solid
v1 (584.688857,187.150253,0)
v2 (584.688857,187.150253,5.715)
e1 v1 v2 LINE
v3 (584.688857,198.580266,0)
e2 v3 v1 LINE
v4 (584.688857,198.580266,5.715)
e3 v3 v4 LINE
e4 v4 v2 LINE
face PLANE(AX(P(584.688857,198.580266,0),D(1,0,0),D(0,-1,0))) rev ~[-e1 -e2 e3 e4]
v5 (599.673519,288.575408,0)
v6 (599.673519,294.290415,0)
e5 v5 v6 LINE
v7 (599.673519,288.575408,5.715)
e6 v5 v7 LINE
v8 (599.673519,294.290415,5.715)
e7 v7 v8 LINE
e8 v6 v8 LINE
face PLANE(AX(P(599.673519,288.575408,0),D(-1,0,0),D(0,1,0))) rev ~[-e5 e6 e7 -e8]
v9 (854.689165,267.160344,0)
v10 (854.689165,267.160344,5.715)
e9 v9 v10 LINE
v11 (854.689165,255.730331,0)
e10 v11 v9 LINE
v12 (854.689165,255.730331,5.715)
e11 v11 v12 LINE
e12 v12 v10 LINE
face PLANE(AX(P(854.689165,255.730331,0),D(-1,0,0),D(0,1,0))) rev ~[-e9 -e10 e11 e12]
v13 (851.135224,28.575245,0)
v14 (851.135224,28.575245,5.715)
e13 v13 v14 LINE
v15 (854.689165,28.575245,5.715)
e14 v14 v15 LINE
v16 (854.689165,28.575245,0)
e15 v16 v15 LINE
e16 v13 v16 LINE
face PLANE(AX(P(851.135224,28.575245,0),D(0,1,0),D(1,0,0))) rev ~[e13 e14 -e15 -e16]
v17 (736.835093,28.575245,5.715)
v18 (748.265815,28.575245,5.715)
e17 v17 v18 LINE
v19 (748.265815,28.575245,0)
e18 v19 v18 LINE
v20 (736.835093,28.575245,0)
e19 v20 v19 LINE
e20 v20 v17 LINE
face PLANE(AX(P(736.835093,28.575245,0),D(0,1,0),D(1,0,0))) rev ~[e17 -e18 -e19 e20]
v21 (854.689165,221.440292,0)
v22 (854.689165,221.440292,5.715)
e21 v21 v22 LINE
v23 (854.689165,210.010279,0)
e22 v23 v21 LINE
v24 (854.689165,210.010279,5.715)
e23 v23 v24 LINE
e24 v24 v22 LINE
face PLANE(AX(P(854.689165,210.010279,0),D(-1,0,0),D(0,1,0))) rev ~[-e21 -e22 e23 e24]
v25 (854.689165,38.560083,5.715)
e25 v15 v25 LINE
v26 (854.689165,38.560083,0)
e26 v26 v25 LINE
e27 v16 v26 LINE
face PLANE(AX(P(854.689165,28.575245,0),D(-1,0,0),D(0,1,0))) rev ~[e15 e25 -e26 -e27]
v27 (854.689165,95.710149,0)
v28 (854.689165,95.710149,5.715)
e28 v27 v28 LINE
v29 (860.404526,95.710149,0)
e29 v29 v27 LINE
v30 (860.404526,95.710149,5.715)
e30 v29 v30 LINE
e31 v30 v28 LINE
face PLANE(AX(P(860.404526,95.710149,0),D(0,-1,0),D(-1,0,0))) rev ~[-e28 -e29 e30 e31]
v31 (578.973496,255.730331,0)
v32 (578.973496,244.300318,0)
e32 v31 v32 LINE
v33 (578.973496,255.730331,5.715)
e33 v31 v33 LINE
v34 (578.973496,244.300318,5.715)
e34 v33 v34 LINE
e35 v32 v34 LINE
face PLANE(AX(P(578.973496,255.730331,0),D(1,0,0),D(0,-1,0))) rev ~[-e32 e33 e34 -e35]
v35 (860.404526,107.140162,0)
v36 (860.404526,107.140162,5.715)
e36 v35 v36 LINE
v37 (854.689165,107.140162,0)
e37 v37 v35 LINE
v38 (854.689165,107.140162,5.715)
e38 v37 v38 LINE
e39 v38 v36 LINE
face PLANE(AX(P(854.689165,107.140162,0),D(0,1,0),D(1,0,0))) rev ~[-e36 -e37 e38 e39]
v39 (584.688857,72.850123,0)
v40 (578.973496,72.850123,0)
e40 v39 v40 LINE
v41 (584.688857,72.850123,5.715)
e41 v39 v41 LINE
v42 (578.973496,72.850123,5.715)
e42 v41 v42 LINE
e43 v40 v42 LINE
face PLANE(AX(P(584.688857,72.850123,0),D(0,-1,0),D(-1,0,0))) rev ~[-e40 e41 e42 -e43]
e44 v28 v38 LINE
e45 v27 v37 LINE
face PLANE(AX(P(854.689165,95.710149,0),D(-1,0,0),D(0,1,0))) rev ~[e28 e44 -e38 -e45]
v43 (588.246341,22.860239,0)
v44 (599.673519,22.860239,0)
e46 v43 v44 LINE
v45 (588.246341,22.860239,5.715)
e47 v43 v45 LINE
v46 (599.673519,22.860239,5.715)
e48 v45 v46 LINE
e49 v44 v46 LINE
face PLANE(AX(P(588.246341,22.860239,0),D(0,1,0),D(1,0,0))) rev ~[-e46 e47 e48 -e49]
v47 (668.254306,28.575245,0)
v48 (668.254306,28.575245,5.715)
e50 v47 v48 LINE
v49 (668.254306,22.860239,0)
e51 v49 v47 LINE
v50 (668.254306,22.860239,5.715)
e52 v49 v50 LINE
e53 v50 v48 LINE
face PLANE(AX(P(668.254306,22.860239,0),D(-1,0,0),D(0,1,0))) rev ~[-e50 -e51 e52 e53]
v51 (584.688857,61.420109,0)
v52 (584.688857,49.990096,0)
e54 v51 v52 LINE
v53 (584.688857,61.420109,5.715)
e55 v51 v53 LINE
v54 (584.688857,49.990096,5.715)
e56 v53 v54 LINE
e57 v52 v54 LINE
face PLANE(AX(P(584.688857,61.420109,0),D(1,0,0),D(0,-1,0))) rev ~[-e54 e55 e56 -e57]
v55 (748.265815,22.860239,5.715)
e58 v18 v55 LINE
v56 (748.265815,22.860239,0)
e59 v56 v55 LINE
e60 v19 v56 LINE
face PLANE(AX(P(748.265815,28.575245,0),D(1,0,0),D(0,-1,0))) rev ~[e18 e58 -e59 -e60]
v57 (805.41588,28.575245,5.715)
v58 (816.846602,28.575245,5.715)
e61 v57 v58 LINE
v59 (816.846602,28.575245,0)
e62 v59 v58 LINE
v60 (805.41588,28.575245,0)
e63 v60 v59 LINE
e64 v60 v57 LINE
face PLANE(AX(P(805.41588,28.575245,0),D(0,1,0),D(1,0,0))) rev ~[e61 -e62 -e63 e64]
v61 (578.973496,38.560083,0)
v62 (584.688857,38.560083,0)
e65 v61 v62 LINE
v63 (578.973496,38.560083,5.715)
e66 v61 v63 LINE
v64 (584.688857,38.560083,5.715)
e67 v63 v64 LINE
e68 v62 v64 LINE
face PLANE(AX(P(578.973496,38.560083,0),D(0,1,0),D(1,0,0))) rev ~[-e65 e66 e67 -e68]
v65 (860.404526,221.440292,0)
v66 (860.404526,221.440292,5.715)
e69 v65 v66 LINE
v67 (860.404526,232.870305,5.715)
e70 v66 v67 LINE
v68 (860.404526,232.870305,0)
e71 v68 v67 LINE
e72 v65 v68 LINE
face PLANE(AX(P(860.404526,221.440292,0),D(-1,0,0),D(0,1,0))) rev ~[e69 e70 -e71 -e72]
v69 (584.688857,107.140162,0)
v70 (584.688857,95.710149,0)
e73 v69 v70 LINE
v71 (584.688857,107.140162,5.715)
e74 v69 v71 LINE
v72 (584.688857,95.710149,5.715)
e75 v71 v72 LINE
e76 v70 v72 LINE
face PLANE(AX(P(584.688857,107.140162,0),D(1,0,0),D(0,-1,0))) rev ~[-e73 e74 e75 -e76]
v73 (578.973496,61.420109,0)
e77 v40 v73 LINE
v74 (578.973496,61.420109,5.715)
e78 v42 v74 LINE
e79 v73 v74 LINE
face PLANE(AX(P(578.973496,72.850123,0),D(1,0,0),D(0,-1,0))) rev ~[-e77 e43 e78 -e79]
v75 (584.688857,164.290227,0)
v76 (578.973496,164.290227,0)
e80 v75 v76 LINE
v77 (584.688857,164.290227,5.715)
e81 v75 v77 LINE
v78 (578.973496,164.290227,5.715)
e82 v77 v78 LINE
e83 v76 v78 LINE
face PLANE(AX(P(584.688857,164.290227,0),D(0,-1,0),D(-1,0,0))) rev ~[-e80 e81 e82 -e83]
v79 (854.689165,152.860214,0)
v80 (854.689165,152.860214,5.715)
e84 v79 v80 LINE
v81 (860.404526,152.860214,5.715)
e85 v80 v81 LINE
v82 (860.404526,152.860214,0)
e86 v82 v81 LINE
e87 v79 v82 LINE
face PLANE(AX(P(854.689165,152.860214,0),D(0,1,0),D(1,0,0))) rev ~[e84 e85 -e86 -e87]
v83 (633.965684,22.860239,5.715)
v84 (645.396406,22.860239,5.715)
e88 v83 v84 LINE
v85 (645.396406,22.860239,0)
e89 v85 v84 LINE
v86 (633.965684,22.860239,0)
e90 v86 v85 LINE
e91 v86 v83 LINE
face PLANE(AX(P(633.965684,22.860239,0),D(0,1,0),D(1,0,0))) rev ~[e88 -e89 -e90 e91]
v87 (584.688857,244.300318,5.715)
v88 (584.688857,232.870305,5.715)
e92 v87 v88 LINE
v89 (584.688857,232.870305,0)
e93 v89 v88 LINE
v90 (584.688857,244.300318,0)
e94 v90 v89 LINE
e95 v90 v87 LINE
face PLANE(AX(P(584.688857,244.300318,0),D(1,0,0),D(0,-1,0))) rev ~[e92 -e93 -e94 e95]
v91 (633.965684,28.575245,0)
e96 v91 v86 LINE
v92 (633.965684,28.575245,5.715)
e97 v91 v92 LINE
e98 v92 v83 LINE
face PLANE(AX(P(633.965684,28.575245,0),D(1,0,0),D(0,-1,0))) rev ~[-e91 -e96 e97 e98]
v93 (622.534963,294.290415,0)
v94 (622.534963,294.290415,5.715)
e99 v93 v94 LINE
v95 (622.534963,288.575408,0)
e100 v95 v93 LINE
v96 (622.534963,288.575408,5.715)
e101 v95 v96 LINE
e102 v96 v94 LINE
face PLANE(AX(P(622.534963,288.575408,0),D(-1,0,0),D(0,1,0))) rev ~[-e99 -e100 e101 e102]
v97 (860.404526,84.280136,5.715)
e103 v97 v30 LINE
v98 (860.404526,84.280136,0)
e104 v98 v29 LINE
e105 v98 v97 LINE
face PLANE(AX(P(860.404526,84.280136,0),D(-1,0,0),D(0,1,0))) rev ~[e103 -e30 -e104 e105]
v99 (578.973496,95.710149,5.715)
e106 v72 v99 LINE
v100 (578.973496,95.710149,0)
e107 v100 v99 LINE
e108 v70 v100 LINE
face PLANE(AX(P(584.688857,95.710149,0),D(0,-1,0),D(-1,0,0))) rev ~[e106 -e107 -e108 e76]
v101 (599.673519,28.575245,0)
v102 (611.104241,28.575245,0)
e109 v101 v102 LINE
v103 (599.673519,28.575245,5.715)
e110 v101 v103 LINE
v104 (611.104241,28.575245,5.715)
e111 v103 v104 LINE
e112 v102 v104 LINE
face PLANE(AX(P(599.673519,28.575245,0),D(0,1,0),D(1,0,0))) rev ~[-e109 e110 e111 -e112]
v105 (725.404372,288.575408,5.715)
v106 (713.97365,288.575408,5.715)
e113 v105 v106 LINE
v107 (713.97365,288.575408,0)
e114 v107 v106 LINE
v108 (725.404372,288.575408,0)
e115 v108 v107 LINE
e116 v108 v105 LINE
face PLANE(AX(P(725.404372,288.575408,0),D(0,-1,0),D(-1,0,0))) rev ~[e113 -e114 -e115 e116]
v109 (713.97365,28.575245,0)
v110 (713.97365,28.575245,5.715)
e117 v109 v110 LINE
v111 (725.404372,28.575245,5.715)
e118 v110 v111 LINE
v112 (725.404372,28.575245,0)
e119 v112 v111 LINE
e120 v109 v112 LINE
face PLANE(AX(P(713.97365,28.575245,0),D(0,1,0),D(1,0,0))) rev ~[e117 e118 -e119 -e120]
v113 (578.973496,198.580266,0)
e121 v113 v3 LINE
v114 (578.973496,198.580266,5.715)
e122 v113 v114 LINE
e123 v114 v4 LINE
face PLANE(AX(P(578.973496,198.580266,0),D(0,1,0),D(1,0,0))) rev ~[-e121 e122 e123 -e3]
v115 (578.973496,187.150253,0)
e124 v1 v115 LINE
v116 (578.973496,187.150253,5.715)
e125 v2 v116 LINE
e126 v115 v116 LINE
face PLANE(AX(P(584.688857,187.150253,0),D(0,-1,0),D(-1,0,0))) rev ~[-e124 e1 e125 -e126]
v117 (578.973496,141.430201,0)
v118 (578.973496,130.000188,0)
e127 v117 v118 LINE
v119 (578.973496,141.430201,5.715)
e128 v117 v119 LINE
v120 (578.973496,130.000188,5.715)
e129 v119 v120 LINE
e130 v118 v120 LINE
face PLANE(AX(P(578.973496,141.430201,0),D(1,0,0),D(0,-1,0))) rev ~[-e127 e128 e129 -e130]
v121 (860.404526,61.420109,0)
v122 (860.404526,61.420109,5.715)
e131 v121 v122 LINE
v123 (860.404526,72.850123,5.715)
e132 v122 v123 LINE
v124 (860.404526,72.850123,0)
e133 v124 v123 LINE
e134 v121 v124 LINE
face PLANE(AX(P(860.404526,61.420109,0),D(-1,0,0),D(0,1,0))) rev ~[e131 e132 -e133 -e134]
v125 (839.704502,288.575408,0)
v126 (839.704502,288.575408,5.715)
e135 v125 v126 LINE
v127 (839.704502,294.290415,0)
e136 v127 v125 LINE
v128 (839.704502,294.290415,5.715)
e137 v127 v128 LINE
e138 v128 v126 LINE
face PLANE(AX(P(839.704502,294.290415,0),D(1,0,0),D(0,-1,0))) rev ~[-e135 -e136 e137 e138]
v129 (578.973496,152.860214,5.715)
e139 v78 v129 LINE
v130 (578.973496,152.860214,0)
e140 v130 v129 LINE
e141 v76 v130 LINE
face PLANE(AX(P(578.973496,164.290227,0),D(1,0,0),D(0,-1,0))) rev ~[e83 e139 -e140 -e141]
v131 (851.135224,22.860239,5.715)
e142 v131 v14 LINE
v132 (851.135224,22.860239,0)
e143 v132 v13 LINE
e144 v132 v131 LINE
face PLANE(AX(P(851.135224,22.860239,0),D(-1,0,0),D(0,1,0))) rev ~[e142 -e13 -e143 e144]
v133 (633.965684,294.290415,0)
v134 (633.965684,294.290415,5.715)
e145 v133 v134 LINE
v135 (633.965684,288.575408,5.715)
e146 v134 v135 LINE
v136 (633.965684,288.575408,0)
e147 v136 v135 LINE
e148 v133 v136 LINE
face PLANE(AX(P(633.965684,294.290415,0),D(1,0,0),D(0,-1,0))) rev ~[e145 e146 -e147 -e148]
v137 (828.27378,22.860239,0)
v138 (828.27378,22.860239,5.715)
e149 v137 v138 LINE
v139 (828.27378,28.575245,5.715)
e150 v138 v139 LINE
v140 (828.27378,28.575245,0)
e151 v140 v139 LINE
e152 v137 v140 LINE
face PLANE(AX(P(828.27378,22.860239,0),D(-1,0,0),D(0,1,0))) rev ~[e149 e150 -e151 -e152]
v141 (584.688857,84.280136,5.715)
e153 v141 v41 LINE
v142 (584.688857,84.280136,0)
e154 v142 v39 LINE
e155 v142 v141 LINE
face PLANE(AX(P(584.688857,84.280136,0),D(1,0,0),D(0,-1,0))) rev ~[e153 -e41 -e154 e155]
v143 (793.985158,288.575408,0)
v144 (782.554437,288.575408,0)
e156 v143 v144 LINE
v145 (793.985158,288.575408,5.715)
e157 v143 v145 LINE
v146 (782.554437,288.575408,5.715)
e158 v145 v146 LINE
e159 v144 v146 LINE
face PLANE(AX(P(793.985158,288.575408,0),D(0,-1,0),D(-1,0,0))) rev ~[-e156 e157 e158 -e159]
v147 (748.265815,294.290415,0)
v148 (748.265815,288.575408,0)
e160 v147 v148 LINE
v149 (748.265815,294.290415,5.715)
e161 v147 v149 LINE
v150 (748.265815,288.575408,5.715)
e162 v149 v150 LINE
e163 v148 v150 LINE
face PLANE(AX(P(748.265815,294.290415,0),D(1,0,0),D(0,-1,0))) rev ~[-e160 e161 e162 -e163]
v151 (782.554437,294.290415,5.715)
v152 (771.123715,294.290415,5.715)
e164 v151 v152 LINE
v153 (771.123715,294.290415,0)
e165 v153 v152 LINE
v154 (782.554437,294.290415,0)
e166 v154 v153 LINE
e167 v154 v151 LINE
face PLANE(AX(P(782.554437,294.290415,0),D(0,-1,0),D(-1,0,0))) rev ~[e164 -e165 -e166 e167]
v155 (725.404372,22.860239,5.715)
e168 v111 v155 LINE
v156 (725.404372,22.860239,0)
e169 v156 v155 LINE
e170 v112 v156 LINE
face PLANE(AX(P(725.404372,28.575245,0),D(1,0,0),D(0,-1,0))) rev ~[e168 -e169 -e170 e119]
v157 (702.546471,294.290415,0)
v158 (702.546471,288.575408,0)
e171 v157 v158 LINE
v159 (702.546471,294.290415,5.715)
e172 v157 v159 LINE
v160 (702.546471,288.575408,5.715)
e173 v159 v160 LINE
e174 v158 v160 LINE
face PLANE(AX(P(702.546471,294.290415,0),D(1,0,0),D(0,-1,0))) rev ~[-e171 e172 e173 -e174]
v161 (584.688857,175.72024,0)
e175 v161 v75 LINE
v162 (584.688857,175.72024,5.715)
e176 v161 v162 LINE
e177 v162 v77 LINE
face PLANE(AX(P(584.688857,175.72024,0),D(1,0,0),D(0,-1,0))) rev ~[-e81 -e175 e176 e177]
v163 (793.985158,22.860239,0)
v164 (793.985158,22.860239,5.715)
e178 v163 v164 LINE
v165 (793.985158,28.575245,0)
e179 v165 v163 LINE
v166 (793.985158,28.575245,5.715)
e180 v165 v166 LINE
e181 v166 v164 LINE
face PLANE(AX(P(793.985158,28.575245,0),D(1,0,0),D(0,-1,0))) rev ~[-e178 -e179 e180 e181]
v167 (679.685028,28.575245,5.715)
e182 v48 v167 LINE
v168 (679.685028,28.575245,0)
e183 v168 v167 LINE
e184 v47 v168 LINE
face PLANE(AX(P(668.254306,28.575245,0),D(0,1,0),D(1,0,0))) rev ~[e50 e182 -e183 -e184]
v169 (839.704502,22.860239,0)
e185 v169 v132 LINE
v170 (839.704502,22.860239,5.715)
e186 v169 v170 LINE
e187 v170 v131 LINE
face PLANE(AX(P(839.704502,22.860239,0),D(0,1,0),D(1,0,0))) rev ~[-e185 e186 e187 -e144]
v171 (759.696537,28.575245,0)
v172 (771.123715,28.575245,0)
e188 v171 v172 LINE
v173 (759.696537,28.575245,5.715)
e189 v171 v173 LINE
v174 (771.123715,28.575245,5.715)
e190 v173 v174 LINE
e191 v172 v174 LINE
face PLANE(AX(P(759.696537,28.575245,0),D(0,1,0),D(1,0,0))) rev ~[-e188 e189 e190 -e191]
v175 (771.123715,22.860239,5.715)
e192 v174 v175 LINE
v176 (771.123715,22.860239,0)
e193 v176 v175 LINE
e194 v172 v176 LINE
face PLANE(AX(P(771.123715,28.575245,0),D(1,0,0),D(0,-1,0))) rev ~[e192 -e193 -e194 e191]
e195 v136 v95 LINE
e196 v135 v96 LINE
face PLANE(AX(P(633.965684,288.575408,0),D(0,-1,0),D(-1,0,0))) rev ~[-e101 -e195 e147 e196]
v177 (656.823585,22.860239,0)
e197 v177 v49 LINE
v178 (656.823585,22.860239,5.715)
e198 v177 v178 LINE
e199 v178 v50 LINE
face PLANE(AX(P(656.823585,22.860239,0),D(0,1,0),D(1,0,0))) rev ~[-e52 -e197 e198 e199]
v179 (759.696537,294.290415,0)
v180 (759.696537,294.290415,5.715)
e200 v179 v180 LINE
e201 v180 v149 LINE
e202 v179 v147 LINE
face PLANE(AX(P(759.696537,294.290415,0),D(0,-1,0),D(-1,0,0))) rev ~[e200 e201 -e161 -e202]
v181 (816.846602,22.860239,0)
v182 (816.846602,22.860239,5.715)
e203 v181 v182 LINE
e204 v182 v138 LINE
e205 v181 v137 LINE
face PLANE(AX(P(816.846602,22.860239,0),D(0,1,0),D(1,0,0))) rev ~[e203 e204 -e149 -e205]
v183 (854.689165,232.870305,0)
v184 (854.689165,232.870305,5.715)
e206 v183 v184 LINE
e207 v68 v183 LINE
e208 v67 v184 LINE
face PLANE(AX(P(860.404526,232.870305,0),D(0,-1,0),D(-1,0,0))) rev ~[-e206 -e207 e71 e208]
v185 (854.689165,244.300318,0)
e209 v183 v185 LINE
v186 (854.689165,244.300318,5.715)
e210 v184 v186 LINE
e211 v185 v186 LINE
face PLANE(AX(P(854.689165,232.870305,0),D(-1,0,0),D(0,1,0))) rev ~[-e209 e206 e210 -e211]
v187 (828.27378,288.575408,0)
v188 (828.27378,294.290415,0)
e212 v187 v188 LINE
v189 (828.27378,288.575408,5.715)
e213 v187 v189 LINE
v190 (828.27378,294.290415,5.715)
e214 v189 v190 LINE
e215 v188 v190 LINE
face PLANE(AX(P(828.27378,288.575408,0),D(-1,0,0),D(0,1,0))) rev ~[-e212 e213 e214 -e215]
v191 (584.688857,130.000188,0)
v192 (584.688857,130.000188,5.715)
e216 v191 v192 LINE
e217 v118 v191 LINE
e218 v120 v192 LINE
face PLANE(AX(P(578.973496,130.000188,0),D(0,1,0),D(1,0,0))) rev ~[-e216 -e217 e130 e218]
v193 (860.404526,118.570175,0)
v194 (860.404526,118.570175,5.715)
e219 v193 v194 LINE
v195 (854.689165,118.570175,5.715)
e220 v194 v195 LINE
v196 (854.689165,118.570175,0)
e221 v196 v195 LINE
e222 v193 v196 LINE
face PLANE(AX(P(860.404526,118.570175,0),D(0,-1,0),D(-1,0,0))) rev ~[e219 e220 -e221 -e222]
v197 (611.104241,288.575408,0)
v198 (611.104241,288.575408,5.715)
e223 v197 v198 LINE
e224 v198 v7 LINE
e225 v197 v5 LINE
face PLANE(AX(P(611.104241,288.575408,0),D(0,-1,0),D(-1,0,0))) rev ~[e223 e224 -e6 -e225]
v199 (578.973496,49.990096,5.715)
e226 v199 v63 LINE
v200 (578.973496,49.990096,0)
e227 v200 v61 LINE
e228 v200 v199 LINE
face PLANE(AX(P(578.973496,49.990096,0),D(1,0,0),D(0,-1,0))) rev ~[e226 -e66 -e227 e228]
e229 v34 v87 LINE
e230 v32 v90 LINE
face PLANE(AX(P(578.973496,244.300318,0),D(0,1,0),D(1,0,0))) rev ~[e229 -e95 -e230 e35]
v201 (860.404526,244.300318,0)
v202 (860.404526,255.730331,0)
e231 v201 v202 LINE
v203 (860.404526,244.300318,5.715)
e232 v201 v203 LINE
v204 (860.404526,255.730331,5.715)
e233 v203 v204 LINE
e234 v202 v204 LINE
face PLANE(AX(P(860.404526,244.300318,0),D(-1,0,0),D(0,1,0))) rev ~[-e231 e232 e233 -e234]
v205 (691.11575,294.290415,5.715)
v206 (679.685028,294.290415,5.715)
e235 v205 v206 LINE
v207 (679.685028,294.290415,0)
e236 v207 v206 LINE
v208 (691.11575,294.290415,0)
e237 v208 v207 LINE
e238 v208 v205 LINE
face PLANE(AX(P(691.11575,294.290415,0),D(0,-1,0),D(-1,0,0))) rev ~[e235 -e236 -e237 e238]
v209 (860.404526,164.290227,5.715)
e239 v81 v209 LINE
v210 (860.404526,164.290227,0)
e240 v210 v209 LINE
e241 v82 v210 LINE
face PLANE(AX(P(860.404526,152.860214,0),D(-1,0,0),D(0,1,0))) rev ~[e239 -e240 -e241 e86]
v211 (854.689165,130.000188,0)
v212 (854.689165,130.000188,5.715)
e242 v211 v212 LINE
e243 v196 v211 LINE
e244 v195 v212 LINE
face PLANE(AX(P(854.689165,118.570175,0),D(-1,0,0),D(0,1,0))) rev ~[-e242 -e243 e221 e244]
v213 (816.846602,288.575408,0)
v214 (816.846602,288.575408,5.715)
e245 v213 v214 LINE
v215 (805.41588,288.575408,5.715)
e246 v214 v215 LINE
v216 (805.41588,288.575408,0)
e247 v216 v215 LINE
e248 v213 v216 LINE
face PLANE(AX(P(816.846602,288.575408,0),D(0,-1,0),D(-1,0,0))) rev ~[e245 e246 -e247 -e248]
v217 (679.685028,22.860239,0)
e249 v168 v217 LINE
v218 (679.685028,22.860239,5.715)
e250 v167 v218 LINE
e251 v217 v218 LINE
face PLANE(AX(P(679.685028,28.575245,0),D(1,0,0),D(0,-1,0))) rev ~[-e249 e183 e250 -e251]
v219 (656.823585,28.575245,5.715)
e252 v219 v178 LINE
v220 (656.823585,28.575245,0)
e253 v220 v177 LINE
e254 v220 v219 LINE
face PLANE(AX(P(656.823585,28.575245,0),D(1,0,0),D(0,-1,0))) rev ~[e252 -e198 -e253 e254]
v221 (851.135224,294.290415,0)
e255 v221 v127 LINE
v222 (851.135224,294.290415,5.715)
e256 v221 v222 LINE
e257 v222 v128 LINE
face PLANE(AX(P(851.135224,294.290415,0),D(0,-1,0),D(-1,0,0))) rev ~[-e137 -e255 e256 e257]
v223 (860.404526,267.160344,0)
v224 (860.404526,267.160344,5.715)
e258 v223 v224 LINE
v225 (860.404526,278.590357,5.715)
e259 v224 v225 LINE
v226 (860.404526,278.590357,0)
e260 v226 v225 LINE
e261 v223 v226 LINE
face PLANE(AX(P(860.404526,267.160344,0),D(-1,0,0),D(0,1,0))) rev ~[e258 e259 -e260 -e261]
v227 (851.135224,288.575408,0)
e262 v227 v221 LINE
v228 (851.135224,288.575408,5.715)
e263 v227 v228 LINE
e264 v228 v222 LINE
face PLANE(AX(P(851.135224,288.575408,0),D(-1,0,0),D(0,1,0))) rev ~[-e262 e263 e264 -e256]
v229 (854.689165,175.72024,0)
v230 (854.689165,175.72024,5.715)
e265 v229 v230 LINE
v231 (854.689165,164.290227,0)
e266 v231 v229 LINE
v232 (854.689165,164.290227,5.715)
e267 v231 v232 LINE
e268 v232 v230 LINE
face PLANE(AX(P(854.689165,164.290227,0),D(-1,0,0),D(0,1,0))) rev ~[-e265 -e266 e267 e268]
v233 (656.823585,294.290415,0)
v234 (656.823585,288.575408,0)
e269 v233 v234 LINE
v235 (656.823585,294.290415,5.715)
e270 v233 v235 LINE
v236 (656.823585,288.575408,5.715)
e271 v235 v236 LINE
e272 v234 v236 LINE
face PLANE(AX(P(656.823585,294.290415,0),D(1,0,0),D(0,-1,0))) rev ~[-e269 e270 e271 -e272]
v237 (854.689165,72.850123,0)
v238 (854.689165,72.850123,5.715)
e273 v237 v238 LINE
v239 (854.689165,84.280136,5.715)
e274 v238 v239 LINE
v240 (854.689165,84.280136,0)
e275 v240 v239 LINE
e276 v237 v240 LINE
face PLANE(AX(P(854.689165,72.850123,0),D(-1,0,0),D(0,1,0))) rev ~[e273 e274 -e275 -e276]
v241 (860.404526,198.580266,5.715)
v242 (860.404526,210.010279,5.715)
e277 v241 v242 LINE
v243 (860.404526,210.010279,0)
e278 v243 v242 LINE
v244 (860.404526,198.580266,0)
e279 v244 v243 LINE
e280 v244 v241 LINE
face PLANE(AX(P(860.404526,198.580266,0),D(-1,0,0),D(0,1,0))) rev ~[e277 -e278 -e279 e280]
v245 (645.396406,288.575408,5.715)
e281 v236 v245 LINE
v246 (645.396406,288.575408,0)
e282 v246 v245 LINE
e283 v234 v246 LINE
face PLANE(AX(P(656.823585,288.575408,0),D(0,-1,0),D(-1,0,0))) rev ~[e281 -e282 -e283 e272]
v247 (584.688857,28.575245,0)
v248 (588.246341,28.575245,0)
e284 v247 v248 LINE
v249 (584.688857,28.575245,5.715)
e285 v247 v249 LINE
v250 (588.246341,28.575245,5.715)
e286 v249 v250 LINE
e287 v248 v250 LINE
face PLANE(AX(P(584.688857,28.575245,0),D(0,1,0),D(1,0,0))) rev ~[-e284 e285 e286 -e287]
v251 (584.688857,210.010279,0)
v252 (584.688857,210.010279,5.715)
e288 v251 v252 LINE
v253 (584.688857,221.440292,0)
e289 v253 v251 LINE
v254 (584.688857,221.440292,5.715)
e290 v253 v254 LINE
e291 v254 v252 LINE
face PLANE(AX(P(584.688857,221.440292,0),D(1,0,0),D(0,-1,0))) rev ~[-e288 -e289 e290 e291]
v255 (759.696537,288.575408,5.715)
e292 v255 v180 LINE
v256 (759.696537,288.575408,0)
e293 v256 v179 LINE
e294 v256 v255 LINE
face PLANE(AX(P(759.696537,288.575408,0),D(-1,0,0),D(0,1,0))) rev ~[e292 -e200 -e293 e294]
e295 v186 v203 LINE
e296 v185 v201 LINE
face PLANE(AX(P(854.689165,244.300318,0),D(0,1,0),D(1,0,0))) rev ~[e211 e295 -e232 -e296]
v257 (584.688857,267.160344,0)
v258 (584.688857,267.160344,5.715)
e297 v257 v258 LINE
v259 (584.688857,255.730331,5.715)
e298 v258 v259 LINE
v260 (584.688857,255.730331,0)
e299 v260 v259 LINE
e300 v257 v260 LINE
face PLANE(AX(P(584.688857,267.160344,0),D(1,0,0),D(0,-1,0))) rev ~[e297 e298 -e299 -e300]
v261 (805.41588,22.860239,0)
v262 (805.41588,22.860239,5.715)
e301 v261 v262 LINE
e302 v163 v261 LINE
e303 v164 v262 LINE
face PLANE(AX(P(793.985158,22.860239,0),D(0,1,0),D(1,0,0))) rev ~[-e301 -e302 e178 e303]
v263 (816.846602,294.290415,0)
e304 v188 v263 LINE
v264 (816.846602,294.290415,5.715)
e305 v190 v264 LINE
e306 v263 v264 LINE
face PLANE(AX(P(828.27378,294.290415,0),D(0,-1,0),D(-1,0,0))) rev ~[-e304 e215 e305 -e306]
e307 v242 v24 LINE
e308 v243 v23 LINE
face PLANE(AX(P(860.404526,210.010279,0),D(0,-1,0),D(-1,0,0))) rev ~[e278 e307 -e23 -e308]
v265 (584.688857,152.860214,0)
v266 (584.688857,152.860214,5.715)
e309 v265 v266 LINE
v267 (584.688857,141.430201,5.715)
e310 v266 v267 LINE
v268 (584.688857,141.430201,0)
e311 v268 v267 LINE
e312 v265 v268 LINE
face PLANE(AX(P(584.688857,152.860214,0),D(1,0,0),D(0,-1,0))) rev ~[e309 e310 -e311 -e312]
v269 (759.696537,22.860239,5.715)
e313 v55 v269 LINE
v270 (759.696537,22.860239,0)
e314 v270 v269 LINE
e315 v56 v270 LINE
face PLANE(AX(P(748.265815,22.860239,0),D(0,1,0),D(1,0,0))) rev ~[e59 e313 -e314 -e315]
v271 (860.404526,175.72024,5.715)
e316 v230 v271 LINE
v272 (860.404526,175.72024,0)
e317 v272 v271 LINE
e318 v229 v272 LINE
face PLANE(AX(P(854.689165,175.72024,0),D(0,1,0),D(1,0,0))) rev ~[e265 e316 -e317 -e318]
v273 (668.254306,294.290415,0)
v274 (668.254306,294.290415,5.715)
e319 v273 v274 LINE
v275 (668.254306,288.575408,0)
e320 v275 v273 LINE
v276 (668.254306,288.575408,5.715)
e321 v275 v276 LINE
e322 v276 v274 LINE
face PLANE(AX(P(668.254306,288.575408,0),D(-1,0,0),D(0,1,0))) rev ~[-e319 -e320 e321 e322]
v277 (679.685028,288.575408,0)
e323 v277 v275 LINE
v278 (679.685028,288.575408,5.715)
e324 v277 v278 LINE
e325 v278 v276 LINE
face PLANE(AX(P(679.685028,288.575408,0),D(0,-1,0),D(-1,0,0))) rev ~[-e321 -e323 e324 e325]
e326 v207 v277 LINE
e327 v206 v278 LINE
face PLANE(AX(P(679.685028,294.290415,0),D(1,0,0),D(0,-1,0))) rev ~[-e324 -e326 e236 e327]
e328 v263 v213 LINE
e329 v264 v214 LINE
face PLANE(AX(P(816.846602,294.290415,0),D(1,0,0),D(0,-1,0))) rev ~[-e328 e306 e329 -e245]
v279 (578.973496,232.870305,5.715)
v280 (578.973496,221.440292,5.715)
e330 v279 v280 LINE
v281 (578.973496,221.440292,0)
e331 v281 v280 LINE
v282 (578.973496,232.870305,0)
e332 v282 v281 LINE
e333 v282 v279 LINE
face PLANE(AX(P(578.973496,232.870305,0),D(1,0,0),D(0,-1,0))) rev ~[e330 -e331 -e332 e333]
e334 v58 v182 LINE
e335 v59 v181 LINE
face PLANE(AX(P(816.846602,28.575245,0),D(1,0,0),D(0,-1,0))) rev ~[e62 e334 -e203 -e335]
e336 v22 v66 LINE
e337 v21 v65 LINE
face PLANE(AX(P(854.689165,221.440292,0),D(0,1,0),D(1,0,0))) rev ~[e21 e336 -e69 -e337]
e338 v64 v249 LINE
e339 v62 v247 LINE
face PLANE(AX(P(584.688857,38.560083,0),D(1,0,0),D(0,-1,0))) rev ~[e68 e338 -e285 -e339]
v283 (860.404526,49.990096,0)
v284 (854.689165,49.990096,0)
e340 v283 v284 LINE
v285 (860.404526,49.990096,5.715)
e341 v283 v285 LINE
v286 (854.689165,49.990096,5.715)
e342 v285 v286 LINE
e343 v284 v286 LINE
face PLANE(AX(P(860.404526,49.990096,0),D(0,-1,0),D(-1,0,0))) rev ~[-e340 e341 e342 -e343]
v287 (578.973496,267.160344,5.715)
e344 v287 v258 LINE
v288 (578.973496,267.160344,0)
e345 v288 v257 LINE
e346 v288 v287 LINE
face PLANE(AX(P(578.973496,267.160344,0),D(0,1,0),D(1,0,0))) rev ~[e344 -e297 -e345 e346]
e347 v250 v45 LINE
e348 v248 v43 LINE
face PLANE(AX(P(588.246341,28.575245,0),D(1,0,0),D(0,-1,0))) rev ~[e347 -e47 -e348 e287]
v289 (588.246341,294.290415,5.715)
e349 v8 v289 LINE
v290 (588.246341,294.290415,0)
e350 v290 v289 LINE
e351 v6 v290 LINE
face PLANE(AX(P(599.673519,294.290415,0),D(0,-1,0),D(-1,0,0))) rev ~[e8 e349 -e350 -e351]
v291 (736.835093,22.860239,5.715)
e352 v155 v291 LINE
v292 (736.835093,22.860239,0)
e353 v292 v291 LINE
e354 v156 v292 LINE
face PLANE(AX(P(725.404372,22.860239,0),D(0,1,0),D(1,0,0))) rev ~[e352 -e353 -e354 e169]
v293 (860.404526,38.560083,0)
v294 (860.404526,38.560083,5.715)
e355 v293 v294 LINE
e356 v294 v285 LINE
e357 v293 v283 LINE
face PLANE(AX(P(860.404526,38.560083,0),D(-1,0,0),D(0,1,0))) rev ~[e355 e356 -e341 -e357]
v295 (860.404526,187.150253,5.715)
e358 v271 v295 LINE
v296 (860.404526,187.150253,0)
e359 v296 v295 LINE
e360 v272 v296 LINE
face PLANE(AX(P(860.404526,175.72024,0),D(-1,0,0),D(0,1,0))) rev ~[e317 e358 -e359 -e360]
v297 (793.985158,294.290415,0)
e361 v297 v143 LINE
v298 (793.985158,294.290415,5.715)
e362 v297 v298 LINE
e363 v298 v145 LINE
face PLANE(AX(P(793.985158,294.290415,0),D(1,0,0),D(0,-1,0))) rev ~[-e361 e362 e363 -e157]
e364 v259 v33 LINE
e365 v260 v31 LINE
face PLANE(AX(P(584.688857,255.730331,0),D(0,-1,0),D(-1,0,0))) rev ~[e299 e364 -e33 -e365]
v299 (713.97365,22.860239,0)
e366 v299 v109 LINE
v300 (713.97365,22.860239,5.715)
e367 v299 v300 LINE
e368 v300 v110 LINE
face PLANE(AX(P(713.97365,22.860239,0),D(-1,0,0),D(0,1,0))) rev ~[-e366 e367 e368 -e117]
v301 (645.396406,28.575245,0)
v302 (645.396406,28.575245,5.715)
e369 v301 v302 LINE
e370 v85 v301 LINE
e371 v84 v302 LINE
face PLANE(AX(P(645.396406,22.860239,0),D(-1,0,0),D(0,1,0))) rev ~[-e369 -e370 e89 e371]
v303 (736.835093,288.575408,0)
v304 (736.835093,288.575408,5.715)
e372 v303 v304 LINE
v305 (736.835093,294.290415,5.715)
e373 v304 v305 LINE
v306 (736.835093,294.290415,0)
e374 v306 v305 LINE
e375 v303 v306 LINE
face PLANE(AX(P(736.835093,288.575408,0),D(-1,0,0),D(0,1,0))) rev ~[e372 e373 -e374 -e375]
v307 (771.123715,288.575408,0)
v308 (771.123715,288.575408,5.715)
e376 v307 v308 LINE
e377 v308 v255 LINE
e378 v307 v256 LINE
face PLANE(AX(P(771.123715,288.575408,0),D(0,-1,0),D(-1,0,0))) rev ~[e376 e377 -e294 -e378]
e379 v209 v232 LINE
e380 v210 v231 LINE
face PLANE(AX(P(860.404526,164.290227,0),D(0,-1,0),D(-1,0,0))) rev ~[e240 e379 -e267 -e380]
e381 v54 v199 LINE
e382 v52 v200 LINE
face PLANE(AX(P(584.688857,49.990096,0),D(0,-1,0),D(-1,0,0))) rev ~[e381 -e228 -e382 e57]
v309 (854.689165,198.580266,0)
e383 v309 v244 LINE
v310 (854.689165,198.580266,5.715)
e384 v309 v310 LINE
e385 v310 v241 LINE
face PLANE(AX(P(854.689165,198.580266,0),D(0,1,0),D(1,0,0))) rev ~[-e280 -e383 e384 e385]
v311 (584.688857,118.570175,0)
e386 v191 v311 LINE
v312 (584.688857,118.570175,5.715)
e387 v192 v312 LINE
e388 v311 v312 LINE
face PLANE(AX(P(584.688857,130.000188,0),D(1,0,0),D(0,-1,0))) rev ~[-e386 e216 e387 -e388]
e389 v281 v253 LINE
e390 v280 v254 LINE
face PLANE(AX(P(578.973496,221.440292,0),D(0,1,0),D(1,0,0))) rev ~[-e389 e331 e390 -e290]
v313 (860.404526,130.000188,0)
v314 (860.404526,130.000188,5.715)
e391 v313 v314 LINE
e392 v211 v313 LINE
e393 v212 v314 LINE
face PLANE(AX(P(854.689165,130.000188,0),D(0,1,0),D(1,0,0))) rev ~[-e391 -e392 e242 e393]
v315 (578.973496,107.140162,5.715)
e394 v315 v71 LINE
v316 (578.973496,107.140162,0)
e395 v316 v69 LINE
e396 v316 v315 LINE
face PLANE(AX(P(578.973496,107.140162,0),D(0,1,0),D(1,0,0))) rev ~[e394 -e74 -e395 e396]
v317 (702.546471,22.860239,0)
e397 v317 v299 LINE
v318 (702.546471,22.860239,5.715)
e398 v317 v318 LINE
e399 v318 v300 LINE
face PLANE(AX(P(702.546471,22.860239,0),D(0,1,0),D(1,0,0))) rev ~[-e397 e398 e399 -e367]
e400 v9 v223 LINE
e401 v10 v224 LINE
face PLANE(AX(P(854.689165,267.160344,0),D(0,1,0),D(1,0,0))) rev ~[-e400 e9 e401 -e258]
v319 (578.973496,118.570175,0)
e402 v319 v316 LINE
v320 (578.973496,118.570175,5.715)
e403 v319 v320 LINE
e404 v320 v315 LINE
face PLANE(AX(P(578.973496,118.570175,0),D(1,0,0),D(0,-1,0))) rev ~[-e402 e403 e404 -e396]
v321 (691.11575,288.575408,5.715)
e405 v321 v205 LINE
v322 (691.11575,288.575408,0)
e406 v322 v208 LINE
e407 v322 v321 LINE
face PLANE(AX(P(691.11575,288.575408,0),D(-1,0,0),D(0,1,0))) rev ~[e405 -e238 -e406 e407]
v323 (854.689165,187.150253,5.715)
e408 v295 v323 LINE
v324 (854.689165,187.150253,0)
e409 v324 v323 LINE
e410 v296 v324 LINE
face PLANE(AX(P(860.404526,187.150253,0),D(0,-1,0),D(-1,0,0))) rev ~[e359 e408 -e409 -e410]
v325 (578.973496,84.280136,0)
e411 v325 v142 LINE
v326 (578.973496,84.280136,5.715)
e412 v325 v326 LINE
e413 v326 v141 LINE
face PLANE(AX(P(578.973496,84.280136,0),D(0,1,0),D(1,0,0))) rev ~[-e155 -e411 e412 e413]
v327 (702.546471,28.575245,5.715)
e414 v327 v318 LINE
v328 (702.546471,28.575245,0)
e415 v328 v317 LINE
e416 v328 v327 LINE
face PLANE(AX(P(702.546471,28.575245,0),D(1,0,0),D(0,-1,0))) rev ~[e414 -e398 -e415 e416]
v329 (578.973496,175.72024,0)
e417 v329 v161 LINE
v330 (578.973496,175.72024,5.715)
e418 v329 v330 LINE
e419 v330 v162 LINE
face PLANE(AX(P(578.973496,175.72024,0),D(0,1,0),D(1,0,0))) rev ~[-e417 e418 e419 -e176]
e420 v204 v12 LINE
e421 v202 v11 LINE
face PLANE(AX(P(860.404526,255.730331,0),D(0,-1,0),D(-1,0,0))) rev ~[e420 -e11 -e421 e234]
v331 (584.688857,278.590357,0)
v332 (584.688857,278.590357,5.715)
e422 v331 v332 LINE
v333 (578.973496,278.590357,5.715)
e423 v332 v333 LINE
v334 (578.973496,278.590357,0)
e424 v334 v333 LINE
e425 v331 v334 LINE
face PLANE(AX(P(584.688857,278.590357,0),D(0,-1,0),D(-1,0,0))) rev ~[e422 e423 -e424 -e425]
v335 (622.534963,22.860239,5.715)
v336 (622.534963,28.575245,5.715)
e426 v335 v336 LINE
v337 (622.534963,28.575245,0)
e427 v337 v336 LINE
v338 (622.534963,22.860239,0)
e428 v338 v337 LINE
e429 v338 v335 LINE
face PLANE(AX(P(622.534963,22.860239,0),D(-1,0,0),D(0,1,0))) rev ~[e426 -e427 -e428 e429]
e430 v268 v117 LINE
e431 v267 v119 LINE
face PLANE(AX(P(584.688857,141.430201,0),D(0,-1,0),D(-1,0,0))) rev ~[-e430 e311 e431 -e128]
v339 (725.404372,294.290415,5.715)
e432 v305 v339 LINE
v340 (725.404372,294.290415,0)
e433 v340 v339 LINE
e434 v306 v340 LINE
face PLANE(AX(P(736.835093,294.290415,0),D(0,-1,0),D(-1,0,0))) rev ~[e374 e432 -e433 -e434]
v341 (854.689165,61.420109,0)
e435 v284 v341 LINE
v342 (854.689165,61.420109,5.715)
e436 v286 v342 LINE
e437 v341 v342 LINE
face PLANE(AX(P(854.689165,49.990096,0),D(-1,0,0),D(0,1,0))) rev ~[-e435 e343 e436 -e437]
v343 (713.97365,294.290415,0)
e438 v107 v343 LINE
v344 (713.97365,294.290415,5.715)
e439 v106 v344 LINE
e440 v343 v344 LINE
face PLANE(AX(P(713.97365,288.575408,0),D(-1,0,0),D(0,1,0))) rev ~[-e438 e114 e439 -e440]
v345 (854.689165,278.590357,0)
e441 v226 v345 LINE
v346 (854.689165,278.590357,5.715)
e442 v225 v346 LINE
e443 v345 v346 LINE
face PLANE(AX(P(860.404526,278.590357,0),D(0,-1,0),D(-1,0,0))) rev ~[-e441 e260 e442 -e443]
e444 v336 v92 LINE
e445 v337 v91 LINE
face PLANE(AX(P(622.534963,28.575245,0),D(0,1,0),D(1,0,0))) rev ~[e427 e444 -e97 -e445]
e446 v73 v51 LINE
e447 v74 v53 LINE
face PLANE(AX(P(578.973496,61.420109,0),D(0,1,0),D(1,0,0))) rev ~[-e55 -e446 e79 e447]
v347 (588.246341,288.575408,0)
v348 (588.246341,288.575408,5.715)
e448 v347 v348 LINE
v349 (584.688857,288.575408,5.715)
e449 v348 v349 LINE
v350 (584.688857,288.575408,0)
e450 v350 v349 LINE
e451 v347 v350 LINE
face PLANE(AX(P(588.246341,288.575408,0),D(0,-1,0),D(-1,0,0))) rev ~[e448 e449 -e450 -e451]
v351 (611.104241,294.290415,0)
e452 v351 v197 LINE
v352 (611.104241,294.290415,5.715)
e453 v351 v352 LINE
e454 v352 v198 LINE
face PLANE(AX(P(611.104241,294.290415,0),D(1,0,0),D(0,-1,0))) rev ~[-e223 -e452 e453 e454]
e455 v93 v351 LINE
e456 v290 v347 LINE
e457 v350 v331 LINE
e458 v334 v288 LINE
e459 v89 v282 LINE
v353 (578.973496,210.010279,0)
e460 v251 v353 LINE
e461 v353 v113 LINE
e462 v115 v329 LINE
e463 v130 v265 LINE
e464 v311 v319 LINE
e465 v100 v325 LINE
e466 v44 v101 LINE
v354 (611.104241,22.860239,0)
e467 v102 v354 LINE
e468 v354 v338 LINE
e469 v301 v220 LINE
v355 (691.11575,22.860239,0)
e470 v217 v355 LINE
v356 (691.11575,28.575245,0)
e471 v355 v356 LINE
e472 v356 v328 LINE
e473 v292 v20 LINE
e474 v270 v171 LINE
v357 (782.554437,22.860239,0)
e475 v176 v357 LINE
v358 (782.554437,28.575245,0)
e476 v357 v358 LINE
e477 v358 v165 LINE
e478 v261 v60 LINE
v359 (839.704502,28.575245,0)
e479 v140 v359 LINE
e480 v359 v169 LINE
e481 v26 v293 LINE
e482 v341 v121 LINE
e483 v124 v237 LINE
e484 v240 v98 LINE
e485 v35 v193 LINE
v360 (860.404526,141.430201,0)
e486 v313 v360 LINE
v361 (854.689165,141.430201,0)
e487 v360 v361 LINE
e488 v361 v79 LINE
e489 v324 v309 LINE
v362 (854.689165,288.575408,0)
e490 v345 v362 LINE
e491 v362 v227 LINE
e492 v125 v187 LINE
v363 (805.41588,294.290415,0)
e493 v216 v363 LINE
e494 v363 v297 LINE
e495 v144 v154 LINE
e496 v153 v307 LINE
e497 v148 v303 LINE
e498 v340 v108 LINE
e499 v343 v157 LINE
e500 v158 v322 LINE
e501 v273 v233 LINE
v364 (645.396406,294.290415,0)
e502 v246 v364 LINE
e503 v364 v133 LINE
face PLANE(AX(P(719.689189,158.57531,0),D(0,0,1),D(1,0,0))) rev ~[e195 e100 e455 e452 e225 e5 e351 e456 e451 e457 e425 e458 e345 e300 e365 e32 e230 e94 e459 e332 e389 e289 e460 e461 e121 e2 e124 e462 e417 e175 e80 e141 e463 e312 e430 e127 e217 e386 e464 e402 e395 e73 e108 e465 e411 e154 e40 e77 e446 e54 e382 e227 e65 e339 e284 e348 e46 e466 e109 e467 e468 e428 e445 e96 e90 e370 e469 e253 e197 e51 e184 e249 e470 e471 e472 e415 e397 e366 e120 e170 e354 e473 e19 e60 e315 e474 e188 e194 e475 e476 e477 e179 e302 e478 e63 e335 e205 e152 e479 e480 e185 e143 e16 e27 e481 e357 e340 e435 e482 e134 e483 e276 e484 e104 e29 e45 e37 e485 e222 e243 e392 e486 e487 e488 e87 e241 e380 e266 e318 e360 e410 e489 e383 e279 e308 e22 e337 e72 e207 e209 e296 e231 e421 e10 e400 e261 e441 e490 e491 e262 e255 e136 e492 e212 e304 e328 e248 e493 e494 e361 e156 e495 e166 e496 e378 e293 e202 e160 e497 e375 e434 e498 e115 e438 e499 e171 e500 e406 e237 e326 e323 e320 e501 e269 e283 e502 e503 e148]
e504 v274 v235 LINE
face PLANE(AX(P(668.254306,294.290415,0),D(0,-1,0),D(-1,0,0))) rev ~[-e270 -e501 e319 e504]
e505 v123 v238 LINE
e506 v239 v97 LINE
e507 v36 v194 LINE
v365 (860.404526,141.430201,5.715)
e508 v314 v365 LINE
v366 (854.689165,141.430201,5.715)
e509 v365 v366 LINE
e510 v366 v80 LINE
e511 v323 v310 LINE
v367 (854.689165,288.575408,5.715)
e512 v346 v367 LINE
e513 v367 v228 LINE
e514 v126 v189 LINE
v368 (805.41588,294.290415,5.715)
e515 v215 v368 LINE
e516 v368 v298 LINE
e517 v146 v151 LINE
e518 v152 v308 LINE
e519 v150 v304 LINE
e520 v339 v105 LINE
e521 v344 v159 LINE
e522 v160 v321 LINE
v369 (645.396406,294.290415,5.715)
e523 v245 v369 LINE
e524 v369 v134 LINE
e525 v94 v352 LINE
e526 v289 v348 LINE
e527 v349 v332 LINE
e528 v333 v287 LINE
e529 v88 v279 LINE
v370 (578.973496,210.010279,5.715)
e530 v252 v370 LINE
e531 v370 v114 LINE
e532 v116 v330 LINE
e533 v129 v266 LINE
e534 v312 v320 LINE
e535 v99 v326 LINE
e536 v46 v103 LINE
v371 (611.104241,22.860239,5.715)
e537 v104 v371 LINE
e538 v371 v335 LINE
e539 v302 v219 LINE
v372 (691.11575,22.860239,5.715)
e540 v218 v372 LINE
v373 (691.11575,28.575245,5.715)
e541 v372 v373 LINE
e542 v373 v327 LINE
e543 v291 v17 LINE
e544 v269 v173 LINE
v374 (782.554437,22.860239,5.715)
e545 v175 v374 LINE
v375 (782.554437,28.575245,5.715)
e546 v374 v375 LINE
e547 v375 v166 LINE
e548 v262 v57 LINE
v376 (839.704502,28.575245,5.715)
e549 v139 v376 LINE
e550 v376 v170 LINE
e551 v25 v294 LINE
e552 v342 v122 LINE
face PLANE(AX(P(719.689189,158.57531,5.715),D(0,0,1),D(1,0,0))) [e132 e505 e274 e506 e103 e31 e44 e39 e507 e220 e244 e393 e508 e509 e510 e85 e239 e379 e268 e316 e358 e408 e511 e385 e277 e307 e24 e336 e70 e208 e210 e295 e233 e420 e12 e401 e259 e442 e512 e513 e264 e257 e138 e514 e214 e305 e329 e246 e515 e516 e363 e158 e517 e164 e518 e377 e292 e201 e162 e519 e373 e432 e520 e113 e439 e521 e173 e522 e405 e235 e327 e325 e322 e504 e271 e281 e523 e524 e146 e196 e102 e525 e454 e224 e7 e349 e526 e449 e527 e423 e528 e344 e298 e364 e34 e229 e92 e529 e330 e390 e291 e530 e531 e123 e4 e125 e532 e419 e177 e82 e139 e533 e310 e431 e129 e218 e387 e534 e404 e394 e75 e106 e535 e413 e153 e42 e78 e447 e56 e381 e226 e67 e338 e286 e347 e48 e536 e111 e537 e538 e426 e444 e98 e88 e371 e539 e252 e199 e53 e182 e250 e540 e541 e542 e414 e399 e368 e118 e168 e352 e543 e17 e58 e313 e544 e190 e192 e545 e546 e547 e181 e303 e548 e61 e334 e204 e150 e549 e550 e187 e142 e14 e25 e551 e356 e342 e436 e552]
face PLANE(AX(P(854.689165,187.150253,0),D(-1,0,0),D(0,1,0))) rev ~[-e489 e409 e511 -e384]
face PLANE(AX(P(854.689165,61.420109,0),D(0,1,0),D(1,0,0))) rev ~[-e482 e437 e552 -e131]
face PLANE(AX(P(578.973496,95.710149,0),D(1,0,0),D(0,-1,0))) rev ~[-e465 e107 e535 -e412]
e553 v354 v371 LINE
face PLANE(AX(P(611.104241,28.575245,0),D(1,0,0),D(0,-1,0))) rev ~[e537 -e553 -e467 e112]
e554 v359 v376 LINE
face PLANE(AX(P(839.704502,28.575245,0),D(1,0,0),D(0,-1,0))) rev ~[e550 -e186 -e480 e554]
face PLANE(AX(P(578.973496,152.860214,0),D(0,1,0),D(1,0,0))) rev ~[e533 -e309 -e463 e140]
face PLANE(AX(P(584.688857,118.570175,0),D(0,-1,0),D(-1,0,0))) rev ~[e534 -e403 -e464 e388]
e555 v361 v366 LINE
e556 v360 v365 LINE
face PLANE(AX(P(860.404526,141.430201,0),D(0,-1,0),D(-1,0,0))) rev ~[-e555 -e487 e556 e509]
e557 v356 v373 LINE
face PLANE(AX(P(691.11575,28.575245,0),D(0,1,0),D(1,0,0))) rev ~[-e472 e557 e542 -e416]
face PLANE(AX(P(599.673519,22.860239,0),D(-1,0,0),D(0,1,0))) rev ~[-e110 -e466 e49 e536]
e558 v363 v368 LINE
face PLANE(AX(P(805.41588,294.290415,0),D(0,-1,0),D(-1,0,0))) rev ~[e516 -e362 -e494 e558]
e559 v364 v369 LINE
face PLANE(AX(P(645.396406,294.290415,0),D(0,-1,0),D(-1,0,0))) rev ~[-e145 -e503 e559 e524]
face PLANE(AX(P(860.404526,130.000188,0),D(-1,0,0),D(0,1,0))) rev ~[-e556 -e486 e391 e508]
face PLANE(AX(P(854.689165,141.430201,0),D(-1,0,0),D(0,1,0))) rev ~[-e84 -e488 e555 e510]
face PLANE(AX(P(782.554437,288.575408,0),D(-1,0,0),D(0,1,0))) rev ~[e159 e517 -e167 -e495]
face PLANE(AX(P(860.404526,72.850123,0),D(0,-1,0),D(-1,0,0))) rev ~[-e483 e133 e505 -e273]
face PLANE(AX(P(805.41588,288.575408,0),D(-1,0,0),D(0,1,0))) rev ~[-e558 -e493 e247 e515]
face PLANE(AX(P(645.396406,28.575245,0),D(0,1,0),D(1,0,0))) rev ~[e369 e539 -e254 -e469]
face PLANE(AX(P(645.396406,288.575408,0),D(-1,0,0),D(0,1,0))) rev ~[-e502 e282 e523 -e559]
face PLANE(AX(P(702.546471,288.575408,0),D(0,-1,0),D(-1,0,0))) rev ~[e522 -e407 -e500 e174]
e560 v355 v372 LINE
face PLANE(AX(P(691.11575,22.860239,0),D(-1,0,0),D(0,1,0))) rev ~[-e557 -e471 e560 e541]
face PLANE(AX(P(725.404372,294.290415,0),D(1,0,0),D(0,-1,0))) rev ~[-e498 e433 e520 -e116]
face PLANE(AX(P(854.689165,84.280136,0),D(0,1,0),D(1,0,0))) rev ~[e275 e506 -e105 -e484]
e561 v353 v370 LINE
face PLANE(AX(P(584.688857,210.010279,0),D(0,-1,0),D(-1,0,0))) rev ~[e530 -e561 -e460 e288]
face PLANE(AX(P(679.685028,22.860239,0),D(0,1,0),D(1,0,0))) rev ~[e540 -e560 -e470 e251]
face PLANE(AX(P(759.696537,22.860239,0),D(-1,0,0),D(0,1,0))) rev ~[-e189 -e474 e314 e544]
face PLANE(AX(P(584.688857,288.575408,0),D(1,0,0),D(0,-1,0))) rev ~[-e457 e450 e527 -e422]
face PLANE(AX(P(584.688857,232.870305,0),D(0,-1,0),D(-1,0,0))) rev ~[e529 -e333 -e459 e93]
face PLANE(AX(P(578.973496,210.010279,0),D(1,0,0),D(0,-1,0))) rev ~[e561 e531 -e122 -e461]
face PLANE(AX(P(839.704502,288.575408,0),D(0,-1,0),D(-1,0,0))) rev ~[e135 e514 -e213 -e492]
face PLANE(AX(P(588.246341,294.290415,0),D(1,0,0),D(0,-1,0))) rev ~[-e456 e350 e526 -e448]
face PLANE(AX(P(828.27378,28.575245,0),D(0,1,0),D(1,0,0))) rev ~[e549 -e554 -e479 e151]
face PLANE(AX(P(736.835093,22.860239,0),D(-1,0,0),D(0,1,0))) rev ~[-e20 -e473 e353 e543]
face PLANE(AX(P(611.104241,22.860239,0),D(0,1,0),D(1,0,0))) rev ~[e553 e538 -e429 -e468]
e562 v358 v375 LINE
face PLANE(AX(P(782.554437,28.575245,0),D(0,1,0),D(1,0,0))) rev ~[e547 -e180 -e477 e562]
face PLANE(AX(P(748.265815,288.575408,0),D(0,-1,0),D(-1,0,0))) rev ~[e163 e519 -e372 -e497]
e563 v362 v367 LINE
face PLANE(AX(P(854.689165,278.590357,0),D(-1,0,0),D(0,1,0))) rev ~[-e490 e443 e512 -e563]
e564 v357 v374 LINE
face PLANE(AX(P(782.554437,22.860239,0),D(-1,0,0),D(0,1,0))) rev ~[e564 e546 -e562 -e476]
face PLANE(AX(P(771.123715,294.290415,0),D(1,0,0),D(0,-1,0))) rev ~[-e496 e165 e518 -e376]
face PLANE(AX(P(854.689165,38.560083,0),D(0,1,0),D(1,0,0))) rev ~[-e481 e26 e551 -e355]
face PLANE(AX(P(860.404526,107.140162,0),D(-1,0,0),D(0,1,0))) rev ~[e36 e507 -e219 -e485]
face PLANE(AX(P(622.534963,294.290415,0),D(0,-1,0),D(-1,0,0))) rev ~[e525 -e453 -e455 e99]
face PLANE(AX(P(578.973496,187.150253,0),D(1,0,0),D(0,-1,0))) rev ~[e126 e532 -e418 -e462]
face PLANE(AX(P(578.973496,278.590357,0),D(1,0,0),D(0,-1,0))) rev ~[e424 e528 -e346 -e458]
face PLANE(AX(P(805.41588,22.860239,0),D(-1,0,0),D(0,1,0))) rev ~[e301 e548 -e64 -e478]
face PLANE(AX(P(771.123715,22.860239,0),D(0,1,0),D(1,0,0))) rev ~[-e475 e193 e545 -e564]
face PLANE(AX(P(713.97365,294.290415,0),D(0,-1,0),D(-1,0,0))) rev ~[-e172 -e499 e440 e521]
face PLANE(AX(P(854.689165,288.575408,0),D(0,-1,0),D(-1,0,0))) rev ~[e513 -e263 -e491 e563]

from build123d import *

# Parameters (mm, degrees)
BOSS_EXTRUDE1_DEPTH = 5.715


with BuildPart() as part:
    # Model → Boss-Extrude1 (new body)
    with BuildSketch(Plane.XY):
        Polygon((584.688856535, 28.575245224), (588.246340911, 28.575245224), (588.246340911, 22.860238699), (599.673519312, 22.860238699), (599.673519312, 28.575245224), (611.104241025, 28.575245224), (611.104241025, 22.860238699), (622.534962737, 22.860238699), (622.534962737, 28.575245224), (633.965684449, 28.575245224), (633.965684449, 22.860238699), (645.396406161, 22.860238699), (645.396406161, 28.575245224), (656.823584562, 28.575245224), (656.823584562, 22.860238699), (668.254306275, 22.860238699), (668.254306275, 28.575245224), (679.685027987, 28.575245224), (679.685027987, 22.860238699), (691.115749699, 22.860238699), (691.115749699, 28.575245224), (702.546471411, 28.575245224), (702.546471411, 22.860238699), (713.973649812, 22.860238699), (713.973649812, 28.575245224), (725.404371525, 28.575245224), (725.404371525, 22.860238699), (736.835093237, 22.860238699), (736.835093237, 28.575245224), (748.265814949, 28.575245224), (748.265814949, 22.860238699), (759.696536661, 22.860238699), (759.696536661, 28.575245224), (771.123715063, 28.575245224), (771.123715063, 22.860238699), (782.554436775, 22.860238699), (782.554436775, 28.575245224), (793.985158487, 28.575245224), (793.985158487, 22.860238699), (805.415880199, 22.860238699), (805.415880199, 28.575245224), (816.846601911, 28.575245224), (816.846601911, 22.860238699), (828.273780313, 22.860238699), (828.273780313, 28.575245224), (839.704502025, 28.575245224), (839.704502025, 22.860238699), (851.135223737, 22.860238699), (851.135223737, 28.575245224), (854.689164803, 28.575245224), (854.689164803, 38.560083395), (860.404525659, 38.560083395), (860.404525659, 49.990096445), (854.689164803, 49.990096445), (854.689164803, 61.420109495), (860.404525659, 61.420109495), (860.404525659, 72.850122545), (854.689164803, 72.850122545), (854.689164803, 84.280135595), (860.404525659, 84.280135595), (860.404525659, 95.710148645), (854.689164803, 95.710148645), (854.689164803, 107.140161695), (860.404525659, 107.140161695), (860.404525659, 118.570174745), (854.689164803, 118.570174745), (854.689164803, 130.000187795), (860.404525659, 130.000187795), (860.404525659, 141.430200846), (854.689164803, 141.430200846), (854.689164803, 152.860213896), (860.404525659, 152.860213896), (860.404525659, 164.290226946), (854.689164803, 164.290226946), (854.689164803, 175.720239996), (860.404525659, 175.720239996), (860.404525659, 187.150253046), (854.689164803, 187.150253046), (854.689164803, 198.580266096), (860.404525659, 198.580266096), (860.404525659, 210.010279146), (854.689164803, 210.010279146), (854.689164803, 221.440292196), (860.404525659, 221.440292196), (860.404525659, 232.870305246), (854.689164803, 232.870305246), (854.689164803, 244.300318296), (860.404525659, 244.300318296), (860.404525659, 255.730331346), (854.689164803, 255.730331346), (854.689164803, 267.160344396), (860.404525659, 267.160344396), (860.404525659, 278.590357446), (854.689164803, 278.590357446), (854.689164803, 288.575408216), (851.135223737, 288.575408216), (851.135223737, 294.290414741), (839.704502025, 294.290414741), (839.704502025, 288.575408216), (828.273780313, 288.575408216), (828.273780313, 294.290414741), (816.846601911, 294.290414741), (816.846601911, 288.575408216), (805.415880199, 288.575408216), (805.415880199, 294.290414741), (793.985158487, 294.290414741), (793.985158487, 288.575408216), (782.554436775, 288.575408216), (782.554436775, 294.290414741), (771.123715063, 294.290414741), (771.123715063, 288.575408216), (759.696536661, 288.575408216), (759.696536661, 294.290414741), (748.265814949, 294.290414741), (748.265814949, 288.575408216), (736.835093237, 288.575408216), (736.835093237, 294.290414741), (725.404371525, 294.290414741), (725.404371525, 288.575408216), (713.973649812, 288.575408216), (713.973649812, 294.290414741), (702.546471411, 294.290414741), (702.546471411, 288.575408216), (691.115749699, 288.575408216), (691.115749699, 294.290414741), (679.685027987, 294.290414741), (679.685027987, 288.575408216), (668.254306275, 288.575408216), (668.254306275, 294.290414741), (656.823584562, 294.290414741), (656.823584562, 288.575408216), (645.396406161, 288.575408216), (645.396406161, 294.290414741), (633.965684449, 294.290414741), (633.965684449, 288.575408216), (622.534962737, 288.575408216), (622.534962737, 294.290414741), (611.104241025, 294.290414741), (611.104241025, 288.575408216), (599.673519312, 288.575408216), (599.673519312, 294.290414741), (588.246340911, 294.290414741), (588.246340911, 288.575408216), (584.688856535, 288.575408216), (584.688856535, 278.590357446), (578.973495678, 278.590357446), (578.973495678, 267.160344396), (584.688856535, 267.160344396), (584.688856535, 255.730331346), (578.973495678, 255.730331346), (578.973495678, 244.300318296), (584.688856535, 244.300318296), (584.688856535, 232.870305246), (578.973495678, 232.870305246), (578.973495678, 221.440292196), (584.688856535, 221.440292196), (584.688856535, 210.010279146), (578.973495678, 210.010279146), (578.973495678, 198.580266096), (584.688856535, 198.580266096), (584.688856535, 187.150253046), (578.973495678, 187.150253046), (578.973495678, 175.720239996), (584.688856535, 175.720239996), (584.688856535, 164.290226946), (578.973495678, 164.290226946), (578.973495678, 152.860213896), (584.688856535, 152.860213896), (584.688856535, 141.430200846), (578.973495678, 141.430200846), (578.973495678, 130.000187795), (584.688856535, 130.000187795), (584.688856535, 118.570174745), (578.973495678, 118.570174745), (578.973495678, 107.140161695), (584.688856535, 107.140161695), (584.688856535, 95.710148645), (578.973495678, 95.710148645), (578.973495678, 84.280135595), (584.688856535, 84.280135595), (584.688856535, 72.850122545), (578.973495678, 72.850122545), (578.973495678, 61.420109495), (584.688856535, 61.420109495), (584.688856535, 49.990096445), (578.973495678, 49.990096445), (578.973495678, 38.560083395), (584.688856535, 38.560083395), align=None)
    extrude(amount=BOSS_EXTRUDE1_DEPTH)


solid = part.part
